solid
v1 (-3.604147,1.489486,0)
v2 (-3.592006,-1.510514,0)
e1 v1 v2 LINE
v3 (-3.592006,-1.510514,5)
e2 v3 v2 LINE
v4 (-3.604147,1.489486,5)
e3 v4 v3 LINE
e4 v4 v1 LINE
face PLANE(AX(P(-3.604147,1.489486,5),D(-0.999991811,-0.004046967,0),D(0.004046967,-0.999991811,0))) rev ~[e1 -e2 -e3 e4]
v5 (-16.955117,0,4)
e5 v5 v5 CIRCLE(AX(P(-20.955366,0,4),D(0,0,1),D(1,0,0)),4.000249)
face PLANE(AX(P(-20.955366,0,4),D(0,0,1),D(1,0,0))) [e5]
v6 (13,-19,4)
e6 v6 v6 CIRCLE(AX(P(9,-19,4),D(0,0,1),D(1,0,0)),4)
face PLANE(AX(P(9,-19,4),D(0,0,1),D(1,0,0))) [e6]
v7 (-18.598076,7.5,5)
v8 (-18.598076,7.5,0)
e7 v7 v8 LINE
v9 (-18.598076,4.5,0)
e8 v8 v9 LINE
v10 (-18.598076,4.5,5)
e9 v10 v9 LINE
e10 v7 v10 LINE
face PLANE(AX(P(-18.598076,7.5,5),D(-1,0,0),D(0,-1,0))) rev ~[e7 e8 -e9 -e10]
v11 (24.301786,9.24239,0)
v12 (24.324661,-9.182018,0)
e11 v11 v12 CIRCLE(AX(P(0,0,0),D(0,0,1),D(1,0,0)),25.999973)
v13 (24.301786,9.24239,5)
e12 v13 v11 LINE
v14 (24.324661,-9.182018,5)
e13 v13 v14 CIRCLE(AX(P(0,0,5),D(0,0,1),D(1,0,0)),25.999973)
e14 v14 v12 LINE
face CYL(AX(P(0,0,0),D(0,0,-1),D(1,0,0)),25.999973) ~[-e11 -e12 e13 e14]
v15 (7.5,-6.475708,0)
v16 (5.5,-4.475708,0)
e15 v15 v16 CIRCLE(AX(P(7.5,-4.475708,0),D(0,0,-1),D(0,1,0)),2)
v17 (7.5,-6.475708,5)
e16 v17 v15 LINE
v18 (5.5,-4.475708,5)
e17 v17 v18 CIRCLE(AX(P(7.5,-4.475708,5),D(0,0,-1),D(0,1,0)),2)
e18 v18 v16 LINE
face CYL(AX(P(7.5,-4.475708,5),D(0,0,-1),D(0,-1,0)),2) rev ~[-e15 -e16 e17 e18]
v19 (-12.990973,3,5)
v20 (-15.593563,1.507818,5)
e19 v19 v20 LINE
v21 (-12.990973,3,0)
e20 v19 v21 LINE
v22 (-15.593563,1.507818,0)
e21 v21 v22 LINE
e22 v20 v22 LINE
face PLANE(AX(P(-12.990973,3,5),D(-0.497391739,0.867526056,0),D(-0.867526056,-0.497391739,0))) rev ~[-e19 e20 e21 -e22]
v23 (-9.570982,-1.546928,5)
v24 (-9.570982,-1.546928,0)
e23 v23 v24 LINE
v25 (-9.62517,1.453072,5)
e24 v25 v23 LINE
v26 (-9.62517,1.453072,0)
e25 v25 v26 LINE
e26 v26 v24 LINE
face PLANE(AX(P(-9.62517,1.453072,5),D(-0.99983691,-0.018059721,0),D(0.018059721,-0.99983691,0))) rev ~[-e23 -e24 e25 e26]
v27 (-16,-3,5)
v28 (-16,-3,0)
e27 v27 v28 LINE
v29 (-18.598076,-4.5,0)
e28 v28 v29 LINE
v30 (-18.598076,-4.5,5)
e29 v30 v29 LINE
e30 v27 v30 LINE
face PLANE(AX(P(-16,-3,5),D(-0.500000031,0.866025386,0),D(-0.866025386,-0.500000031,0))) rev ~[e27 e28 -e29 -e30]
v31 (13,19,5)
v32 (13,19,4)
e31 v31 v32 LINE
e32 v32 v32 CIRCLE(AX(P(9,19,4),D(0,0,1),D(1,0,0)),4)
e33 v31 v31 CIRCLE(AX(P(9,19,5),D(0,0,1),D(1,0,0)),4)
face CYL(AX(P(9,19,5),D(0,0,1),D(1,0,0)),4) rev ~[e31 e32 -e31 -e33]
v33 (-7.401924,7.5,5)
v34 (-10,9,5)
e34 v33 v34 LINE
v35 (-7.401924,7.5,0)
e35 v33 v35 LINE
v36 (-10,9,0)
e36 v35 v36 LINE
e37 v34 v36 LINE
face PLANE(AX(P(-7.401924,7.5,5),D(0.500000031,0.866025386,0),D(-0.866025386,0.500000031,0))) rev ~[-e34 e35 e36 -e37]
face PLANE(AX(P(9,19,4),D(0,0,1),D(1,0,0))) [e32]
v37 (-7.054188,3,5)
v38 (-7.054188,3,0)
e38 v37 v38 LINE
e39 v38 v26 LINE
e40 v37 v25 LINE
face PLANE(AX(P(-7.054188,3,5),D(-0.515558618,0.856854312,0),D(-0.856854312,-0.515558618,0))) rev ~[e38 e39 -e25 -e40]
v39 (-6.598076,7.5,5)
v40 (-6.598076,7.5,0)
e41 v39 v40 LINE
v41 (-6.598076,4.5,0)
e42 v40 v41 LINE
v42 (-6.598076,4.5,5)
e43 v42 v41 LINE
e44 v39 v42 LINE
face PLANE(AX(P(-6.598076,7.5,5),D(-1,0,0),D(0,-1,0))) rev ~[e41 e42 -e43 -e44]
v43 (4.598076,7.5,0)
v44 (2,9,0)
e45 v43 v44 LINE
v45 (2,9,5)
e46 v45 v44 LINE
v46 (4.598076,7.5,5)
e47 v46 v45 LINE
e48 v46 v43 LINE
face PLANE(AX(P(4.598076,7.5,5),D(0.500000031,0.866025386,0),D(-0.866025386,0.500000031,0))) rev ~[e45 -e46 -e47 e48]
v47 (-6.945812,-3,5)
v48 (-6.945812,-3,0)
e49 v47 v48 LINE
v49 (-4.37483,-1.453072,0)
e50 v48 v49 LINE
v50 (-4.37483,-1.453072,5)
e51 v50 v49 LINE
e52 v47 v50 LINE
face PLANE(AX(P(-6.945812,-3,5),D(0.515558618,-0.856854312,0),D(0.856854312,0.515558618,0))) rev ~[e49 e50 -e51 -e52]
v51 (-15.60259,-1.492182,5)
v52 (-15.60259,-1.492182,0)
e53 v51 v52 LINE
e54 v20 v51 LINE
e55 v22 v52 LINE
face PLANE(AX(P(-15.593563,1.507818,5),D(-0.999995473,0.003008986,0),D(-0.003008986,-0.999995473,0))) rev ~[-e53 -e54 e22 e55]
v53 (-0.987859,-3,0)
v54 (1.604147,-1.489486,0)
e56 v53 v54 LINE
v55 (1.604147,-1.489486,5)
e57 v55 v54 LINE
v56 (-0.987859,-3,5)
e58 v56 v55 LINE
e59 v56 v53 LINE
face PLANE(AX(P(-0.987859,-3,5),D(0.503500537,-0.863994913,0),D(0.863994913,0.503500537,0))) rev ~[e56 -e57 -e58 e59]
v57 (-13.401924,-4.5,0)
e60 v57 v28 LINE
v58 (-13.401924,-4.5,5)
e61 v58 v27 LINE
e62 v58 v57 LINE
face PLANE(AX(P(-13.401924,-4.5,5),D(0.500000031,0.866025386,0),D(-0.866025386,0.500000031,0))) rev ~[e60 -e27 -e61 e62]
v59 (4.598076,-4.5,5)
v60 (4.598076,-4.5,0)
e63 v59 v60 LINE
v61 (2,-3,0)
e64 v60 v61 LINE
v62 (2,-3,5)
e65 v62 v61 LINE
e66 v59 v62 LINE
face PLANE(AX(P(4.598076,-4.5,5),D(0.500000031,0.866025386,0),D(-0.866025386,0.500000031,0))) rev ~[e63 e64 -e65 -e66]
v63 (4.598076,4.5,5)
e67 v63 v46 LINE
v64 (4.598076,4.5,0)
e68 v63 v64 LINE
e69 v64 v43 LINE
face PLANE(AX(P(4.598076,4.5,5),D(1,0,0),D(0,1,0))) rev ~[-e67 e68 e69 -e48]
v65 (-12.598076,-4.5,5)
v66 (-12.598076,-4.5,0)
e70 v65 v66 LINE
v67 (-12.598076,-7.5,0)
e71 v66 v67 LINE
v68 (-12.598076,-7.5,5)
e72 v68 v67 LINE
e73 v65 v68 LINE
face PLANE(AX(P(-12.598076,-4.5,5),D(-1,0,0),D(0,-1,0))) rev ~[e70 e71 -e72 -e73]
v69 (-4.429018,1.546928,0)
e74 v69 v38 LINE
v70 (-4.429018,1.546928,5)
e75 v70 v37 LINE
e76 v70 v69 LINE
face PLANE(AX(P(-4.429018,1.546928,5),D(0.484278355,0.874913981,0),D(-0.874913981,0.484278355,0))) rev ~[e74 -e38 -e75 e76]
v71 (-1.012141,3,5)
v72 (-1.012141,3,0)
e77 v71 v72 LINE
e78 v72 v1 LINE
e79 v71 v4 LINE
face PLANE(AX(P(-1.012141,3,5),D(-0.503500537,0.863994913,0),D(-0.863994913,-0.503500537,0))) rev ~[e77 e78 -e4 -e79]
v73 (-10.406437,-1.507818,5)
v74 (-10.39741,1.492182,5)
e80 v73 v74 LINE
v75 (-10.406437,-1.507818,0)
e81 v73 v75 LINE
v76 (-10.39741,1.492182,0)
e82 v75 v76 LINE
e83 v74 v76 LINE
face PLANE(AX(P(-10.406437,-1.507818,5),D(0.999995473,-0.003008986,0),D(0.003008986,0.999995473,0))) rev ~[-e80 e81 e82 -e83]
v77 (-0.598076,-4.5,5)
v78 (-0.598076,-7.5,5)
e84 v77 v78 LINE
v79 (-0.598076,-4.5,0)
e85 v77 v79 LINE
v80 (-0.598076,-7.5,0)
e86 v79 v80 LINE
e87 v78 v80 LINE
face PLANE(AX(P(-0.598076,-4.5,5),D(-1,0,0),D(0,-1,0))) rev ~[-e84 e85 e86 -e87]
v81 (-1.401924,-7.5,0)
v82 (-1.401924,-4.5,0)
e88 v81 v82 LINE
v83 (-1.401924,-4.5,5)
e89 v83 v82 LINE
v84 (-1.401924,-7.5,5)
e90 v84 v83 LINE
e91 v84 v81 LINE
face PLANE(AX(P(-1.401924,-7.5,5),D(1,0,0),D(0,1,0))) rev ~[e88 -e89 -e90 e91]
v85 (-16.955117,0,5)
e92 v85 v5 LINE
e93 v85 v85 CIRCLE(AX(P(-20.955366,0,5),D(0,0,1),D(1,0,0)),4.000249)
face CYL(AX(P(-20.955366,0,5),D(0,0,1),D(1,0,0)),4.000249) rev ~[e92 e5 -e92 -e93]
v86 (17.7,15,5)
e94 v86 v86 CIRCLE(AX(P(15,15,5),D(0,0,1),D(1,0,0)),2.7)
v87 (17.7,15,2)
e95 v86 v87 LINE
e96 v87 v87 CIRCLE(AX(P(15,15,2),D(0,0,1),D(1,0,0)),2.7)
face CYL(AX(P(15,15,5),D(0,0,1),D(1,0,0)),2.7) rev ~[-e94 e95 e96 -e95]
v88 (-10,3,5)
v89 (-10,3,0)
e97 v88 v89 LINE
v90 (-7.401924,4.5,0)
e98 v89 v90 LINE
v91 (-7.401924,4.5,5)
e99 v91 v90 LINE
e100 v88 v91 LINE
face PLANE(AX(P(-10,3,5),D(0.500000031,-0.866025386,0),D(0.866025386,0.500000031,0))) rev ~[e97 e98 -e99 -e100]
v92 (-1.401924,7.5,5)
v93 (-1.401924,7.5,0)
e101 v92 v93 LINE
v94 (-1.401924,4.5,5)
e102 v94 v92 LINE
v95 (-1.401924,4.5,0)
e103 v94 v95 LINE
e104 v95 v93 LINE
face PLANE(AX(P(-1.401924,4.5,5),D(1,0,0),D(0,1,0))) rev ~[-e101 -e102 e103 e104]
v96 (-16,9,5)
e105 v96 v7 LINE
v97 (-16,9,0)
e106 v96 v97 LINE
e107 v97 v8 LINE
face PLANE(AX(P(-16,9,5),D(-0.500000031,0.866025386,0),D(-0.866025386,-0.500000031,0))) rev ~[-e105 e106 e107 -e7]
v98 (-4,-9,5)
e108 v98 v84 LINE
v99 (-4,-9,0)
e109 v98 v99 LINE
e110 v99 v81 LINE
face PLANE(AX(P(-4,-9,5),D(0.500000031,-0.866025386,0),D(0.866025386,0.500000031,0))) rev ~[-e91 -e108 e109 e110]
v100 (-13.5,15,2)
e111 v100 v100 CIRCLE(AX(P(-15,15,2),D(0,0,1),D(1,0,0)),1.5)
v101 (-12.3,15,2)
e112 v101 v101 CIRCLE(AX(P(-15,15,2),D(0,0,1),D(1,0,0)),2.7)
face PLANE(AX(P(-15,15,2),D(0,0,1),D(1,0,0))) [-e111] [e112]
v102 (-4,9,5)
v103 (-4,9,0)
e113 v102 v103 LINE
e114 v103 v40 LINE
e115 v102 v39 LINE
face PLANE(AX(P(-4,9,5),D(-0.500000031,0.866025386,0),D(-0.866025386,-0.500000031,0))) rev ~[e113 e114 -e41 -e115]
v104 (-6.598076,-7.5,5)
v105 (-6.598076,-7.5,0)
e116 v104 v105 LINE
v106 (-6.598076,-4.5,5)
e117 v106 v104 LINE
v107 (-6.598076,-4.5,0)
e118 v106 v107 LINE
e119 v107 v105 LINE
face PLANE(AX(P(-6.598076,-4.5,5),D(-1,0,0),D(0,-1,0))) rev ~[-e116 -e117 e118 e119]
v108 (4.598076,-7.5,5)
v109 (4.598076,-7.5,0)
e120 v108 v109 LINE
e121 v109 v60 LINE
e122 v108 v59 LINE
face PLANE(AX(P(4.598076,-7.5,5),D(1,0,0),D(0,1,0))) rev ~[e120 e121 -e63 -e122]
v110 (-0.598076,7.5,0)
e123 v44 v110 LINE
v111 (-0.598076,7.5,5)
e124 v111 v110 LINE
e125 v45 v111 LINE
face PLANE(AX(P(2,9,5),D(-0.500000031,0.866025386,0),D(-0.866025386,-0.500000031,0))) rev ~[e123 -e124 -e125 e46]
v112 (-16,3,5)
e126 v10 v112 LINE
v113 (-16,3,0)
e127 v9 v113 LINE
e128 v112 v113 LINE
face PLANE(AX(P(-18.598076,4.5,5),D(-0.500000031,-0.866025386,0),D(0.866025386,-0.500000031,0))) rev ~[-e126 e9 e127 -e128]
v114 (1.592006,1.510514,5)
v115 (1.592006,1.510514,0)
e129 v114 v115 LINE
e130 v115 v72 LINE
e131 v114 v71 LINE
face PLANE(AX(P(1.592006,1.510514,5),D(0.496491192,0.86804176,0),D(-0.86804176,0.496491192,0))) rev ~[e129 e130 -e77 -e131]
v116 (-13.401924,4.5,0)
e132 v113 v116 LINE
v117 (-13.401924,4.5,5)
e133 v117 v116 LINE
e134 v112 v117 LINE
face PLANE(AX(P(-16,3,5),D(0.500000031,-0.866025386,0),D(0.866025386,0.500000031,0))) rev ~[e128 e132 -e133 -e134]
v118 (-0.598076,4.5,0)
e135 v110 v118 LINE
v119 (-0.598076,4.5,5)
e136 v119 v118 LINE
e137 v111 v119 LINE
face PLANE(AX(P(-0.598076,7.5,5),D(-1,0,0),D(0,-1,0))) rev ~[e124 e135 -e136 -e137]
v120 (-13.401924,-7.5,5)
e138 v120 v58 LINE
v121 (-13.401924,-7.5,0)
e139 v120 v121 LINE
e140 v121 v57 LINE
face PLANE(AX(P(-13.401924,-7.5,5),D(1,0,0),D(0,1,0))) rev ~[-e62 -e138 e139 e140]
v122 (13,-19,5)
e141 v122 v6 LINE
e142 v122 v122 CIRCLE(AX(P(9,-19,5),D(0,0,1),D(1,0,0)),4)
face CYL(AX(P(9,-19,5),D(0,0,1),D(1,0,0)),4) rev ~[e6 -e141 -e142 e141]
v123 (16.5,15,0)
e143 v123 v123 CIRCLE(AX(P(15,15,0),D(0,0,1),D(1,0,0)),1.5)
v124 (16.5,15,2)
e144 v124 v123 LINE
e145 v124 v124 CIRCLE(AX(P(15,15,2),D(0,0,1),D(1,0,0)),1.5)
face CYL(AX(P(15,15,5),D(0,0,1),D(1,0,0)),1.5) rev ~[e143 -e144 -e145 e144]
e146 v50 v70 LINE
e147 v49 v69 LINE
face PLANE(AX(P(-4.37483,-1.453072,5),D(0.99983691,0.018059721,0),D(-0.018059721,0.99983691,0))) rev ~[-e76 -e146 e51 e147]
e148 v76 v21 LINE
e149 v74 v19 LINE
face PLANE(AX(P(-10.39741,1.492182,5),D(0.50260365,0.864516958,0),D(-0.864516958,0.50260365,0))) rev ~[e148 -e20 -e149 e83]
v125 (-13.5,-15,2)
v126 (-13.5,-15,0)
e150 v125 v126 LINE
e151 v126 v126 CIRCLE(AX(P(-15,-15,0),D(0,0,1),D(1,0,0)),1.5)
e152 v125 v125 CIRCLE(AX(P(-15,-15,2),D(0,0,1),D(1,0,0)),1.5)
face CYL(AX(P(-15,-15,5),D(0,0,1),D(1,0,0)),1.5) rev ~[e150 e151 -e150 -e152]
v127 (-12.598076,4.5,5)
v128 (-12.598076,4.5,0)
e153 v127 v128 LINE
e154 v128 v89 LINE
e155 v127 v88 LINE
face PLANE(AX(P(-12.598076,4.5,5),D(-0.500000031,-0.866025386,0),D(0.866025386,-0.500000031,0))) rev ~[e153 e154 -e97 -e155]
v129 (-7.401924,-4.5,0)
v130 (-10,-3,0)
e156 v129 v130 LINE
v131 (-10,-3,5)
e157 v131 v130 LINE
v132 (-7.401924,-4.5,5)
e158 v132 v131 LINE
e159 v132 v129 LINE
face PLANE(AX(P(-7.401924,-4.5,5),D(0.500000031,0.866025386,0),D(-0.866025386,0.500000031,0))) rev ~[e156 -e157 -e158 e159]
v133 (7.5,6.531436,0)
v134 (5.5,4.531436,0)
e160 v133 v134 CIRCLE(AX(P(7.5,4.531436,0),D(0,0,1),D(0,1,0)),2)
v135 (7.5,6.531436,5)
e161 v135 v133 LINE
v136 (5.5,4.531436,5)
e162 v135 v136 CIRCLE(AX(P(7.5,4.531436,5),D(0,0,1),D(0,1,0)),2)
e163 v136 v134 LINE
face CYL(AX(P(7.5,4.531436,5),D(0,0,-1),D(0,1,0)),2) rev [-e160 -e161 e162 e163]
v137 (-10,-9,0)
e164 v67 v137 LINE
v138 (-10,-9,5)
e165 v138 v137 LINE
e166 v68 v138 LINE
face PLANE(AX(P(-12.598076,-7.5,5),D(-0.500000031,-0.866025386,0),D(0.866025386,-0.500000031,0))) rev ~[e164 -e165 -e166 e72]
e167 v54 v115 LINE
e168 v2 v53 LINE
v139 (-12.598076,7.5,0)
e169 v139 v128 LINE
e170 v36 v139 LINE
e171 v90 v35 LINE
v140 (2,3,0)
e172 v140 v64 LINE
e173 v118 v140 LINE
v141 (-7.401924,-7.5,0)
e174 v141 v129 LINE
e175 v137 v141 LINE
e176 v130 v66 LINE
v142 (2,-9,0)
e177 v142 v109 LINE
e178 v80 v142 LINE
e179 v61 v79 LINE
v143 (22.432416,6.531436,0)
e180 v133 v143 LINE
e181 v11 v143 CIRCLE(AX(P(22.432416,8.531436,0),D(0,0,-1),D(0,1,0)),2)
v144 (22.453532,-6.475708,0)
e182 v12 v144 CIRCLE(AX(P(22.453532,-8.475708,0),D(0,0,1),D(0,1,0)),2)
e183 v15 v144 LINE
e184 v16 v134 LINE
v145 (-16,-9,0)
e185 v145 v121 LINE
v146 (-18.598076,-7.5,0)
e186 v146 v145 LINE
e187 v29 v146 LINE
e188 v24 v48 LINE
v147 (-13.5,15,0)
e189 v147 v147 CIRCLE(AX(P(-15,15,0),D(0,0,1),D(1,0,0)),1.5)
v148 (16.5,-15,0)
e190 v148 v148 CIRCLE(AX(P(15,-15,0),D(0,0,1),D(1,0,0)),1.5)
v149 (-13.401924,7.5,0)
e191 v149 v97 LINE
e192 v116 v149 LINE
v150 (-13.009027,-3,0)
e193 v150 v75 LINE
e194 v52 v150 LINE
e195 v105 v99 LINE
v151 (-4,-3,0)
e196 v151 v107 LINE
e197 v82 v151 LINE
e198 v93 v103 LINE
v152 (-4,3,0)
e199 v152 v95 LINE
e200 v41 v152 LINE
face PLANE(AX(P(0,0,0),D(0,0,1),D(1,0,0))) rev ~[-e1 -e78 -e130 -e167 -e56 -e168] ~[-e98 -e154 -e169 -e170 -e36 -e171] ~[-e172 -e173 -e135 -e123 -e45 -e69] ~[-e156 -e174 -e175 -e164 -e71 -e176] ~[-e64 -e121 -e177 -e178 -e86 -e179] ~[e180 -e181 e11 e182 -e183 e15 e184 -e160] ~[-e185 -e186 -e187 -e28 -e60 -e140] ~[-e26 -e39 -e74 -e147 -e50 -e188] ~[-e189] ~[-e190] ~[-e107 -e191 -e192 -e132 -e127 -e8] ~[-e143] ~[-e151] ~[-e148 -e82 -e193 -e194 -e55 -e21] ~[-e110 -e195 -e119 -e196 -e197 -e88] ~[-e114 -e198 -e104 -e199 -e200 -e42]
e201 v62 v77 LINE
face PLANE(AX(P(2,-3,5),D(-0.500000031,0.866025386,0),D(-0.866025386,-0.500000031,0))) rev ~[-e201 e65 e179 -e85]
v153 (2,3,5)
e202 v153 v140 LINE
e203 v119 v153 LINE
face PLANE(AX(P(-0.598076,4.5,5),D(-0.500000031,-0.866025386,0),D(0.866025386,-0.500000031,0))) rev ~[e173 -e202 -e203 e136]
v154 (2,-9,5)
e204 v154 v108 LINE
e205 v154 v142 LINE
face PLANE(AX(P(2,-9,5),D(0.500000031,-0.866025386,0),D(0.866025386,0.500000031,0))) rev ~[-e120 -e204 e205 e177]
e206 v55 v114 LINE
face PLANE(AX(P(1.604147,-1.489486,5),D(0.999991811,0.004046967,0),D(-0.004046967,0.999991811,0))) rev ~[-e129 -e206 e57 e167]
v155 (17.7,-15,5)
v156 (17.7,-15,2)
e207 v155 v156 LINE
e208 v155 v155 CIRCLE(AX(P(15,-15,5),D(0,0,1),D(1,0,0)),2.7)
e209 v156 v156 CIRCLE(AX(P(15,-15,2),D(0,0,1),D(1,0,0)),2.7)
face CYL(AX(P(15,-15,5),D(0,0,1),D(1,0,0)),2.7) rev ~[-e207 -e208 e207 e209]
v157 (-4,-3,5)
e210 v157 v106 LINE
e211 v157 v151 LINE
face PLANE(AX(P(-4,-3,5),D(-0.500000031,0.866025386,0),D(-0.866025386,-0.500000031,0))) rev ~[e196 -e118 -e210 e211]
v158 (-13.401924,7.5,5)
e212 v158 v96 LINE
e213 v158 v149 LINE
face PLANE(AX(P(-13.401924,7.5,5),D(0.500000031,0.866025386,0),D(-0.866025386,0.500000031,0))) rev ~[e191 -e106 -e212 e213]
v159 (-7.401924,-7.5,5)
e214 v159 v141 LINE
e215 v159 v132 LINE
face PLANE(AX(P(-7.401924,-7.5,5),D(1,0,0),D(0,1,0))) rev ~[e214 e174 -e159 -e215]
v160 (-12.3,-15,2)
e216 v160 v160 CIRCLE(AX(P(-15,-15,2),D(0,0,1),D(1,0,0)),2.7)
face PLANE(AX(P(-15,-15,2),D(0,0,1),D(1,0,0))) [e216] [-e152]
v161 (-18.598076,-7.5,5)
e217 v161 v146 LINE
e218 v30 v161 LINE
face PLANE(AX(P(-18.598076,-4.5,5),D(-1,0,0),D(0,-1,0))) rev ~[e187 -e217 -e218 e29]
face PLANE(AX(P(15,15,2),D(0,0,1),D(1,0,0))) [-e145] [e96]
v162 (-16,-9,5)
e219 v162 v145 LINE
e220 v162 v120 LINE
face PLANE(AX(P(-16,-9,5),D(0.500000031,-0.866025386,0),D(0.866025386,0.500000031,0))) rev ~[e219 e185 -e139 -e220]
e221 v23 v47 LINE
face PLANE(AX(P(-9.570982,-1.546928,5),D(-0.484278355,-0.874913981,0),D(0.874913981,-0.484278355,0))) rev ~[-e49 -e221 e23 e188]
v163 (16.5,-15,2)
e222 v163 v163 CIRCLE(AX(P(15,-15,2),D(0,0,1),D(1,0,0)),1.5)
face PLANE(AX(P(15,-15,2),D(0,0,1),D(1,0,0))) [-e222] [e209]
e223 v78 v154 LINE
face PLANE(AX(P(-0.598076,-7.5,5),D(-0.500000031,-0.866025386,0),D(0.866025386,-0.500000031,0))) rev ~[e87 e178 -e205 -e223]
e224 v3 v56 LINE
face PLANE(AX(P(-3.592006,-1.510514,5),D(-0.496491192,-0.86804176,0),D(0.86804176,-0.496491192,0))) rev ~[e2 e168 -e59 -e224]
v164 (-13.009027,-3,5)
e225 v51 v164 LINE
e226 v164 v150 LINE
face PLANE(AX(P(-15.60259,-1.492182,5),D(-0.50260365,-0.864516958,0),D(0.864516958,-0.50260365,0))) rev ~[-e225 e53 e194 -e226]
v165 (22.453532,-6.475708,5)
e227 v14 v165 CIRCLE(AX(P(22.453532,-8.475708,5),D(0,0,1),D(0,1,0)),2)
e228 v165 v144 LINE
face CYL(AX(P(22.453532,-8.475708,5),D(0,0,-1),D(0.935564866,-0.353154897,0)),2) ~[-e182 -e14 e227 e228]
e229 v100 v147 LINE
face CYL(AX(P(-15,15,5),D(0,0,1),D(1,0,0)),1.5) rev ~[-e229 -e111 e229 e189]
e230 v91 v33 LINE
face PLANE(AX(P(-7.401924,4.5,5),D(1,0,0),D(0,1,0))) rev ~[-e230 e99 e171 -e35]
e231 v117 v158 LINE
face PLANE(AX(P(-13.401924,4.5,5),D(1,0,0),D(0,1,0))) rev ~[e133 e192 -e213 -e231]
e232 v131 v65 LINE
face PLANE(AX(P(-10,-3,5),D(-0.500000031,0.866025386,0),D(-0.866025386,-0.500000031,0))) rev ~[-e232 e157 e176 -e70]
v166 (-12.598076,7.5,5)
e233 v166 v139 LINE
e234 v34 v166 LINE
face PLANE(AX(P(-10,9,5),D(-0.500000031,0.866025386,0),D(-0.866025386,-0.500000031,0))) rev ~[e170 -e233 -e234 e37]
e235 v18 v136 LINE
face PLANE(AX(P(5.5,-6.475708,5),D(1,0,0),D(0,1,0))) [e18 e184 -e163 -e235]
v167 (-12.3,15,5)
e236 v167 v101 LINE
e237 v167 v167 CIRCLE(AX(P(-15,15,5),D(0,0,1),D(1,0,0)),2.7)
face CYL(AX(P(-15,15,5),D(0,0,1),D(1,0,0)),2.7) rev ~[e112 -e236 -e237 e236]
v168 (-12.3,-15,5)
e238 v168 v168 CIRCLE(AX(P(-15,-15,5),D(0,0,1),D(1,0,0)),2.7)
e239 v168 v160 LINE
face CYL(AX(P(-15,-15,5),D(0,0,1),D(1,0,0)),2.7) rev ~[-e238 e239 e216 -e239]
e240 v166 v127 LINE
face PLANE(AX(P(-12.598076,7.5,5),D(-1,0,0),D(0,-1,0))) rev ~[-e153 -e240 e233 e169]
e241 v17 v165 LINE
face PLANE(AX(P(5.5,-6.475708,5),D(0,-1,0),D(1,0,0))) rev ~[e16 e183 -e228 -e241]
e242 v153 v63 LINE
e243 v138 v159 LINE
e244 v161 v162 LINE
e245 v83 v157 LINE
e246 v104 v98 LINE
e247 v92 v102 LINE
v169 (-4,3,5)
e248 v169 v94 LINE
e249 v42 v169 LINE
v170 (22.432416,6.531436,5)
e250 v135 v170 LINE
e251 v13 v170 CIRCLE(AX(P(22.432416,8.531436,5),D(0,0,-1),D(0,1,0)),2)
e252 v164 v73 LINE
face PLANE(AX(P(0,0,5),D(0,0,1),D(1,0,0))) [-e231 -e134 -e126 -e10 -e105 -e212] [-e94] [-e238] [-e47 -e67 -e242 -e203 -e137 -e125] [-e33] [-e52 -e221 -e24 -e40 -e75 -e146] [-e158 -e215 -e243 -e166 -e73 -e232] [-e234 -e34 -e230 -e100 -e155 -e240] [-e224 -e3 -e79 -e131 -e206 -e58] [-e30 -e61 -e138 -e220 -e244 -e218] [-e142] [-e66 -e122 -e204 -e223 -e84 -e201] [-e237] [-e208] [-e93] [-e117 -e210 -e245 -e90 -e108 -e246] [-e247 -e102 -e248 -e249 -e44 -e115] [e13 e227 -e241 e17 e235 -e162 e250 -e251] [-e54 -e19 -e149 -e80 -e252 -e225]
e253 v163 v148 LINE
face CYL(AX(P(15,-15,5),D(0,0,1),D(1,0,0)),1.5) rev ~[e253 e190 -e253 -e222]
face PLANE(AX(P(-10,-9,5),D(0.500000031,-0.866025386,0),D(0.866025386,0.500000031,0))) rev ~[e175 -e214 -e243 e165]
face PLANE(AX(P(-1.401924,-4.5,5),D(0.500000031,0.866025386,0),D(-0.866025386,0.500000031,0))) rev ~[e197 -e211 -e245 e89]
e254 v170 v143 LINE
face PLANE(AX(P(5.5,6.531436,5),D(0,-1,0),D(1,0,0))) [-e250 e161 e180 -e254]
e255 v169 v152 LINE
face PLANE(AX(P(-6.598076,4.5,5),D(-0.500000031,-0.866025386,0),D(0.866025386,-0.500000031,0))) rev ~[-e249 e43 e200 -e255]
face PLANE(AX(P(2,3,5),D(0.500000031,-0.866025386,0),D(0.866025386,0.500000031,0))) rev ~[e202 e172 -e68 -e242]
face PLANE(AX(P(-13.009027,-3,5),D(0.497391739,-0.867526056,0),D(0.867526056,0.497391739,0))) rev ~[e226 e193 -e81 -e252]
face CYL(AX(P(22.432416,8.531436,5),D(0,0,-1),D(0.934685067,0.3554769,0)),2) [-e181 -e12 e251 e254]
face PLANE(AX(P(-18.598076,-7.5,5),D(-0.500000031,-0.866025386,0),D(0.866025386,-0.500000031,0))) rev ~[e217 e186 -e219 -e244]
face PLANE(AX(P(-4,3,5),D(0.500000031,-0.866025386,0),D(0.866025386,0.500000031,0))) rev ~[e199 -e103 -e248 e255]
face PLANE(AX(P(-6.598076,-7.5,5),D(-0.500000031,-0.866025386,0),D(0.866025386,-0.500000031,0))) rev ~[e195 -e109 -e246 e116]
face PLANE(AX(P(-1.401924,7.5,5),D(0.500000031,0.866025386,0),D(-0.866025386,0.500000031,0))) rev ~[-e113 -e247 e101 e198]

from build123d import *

# Parameters (mm, degrees)
SKETCH_R        = 25.999973
PAD_DEPTH       = 5
SKETCH001_R     = 1.5
POCKET_DEPTH    = 5.001
SKETCH002_W     = 20.5
SKETCH002_H     = 13.007144
POCKET001_DEPTH = 5
FILLET_R        = 2
POCKET002_DEPTH = 5
SKETCH004_R     = 4.000249
SKETCH004_R_2   = 4
POCKET003_DEPTH = 1
SKETCH005_R     = 2.7
POCKET004_DEPTH = 3


with BuildPart() as part:
    # Sketch → Pad (new body)
    with BuildSketch(Plane.XY):
        Circle(SKETCH_R)
    extrude(amount=PAD_DEPTH)

    # Sketch001 (on Face3 of Pad) → Pocket (cut, through all)
    with BuildSketch(Plane.XY.offset(5)):
        with Locations((-15, 15)):
            Circle(SKETCH001_R)
        with Locations((15, 15)):
            Circle(SKETCH001_R)
        with Locations((15, -15)):
            Circle(SKETCH001_R)
        with Locations((-15, -15)):
            Circle(SKETCH001_R)
    extrude(amount=-POCKET_DEPTH, mode=Mode.SUBTRACT)

    # Sketch002 (on Face3 of Pocket) → Pocket001 (cut)
    with BuildSketch(Plane.XY.offset(5)):
        with Locations((15.75, 0.027864)):
            Rectangle(SKETCH002_W, SKETCH002_H)
    extrude(amount=-POCKET001_DEPTH, mode=Mode.SUBTRACT)

    # Fillet
    fillet_edges = [part.edges().sort_by_distance(p)[0] for p in [
        (5.5, 6.531436, 2.5),
        (5.5, -6.475708, 2.5),
        (25.180624, -6.475708, 2.5),
        (25.166226, 6.531436, 2.5),
    ]]
    fillet(fillet_edges, radius=FILLET_R)

    # Sketch003 (on Face5 of Fillet) → Pocket002 (cut)
    with BuildSketch(Plane.XY.offset(5)):
        Polygon((-16, 9), (-18.598076, 7.5), (-18.598076, 4.5), (-16, 3), (-13.401924, 4.5), (-13.401924, 7.5), align=None)
        Polygon((-10, 9), (-12.598076, 7.5), (-12.598076, 4.5), (-10, 3), (-7.401924, 4.5), (-7.401924, 7.5), align=None)
        Polygon((-4, 9), (-6.598076, 7.5), (-6.598076, 4.5), (-4, 3), (-1.401924, 4.5), (-1.401924, 7.5), align=None)
        Polygon((2, 9), (-0.598076, 7.5), (-0.598076, 4.5), (2, 3), (4.598076, 4.5), (4.598076, 7.5), align=None)
        Polygon((-12.990973, 3), (-15.593563, 1.507818), (-15.60259, -1.492182), (-13.009027, -3), (-10.406437, -1.507818), (-10.39741, 1.492182), align=None)
        Polygon((-7.054188, 3), (-9.62517, 1.453072), (-9.570982, -1.546928), (-6.945812, -3), (-4.37483, -1.453072), (-4.429018, 1.546928), align=None)
        Polygon((-1.012141, 3), (-3.604147, 1.489486), (-3.592006, -1.510514), (-0.987859, -3), (1.604147, -1.489486), (1.592006, 1.510514), align=None)
        Polygon((-16, -3), (-18.598076, -4.5), (-18.598076, -7.5), (-16, -9), (-13.401924, -7.5), (-13.401924, -4.5), align=None)
        Polygon((-10, -3), (-12.598076, -4.5), (-12.598076, -7.5), (-10, -9), (-7.401924, -7.5), (-7.401924, -4.5), align=None)
        Polygon((-4, -3), (-6.598076, -4.5), (-6.598076, -7.5), (-4, -9), (-1.401924, -7.5), (-1.401924, -4.5), align=None)
        Polygon((2, -3), (-0.598076, -4.5), (-0.598076, -7.5), (2, -9), (4.598076, -7.5), (4.598076, -4.5), align=None)
    extrude(amount=-POCKET002_DEPTH, mode=Mode.SUBTRACT)

    # Sketch004 (on Face5 of Pocket002) → Pocket003 (cut)
    with BuildSketch(Plane.XY.offset(5)):
        with Locations((-20.955366, 0)):
            Circle(SKETCH004_R)
        with Locations((9, 19)):
            Circle(SKETCH004_R_2)
        with Locations((9, -19)):
            Circle(SKETCH004_R_2)
    extrude(amount=-POCKET003_DEPTH, mode=Mode.SUBTRACT)

    # Sketch005 (on Face5 of Pocket003) → Pocket004 (cut)
    with BuildSketch(Plane.XY.offset(5)):
        with Locations((-15, 15)):
            Circle(SKETCH005_R)
        with Locations((15, 15)):
            Circle(SKETCH005_R)
        with Locations((15, -15)):
            Circle(SKETCH005_R)
        with Locations((-15, -15)):
            Circle(SKETCH005_R)
    extrude(amount=-POCKET004_DEPTH, mode=Mode.SUBTRACT)


solid = part.part
